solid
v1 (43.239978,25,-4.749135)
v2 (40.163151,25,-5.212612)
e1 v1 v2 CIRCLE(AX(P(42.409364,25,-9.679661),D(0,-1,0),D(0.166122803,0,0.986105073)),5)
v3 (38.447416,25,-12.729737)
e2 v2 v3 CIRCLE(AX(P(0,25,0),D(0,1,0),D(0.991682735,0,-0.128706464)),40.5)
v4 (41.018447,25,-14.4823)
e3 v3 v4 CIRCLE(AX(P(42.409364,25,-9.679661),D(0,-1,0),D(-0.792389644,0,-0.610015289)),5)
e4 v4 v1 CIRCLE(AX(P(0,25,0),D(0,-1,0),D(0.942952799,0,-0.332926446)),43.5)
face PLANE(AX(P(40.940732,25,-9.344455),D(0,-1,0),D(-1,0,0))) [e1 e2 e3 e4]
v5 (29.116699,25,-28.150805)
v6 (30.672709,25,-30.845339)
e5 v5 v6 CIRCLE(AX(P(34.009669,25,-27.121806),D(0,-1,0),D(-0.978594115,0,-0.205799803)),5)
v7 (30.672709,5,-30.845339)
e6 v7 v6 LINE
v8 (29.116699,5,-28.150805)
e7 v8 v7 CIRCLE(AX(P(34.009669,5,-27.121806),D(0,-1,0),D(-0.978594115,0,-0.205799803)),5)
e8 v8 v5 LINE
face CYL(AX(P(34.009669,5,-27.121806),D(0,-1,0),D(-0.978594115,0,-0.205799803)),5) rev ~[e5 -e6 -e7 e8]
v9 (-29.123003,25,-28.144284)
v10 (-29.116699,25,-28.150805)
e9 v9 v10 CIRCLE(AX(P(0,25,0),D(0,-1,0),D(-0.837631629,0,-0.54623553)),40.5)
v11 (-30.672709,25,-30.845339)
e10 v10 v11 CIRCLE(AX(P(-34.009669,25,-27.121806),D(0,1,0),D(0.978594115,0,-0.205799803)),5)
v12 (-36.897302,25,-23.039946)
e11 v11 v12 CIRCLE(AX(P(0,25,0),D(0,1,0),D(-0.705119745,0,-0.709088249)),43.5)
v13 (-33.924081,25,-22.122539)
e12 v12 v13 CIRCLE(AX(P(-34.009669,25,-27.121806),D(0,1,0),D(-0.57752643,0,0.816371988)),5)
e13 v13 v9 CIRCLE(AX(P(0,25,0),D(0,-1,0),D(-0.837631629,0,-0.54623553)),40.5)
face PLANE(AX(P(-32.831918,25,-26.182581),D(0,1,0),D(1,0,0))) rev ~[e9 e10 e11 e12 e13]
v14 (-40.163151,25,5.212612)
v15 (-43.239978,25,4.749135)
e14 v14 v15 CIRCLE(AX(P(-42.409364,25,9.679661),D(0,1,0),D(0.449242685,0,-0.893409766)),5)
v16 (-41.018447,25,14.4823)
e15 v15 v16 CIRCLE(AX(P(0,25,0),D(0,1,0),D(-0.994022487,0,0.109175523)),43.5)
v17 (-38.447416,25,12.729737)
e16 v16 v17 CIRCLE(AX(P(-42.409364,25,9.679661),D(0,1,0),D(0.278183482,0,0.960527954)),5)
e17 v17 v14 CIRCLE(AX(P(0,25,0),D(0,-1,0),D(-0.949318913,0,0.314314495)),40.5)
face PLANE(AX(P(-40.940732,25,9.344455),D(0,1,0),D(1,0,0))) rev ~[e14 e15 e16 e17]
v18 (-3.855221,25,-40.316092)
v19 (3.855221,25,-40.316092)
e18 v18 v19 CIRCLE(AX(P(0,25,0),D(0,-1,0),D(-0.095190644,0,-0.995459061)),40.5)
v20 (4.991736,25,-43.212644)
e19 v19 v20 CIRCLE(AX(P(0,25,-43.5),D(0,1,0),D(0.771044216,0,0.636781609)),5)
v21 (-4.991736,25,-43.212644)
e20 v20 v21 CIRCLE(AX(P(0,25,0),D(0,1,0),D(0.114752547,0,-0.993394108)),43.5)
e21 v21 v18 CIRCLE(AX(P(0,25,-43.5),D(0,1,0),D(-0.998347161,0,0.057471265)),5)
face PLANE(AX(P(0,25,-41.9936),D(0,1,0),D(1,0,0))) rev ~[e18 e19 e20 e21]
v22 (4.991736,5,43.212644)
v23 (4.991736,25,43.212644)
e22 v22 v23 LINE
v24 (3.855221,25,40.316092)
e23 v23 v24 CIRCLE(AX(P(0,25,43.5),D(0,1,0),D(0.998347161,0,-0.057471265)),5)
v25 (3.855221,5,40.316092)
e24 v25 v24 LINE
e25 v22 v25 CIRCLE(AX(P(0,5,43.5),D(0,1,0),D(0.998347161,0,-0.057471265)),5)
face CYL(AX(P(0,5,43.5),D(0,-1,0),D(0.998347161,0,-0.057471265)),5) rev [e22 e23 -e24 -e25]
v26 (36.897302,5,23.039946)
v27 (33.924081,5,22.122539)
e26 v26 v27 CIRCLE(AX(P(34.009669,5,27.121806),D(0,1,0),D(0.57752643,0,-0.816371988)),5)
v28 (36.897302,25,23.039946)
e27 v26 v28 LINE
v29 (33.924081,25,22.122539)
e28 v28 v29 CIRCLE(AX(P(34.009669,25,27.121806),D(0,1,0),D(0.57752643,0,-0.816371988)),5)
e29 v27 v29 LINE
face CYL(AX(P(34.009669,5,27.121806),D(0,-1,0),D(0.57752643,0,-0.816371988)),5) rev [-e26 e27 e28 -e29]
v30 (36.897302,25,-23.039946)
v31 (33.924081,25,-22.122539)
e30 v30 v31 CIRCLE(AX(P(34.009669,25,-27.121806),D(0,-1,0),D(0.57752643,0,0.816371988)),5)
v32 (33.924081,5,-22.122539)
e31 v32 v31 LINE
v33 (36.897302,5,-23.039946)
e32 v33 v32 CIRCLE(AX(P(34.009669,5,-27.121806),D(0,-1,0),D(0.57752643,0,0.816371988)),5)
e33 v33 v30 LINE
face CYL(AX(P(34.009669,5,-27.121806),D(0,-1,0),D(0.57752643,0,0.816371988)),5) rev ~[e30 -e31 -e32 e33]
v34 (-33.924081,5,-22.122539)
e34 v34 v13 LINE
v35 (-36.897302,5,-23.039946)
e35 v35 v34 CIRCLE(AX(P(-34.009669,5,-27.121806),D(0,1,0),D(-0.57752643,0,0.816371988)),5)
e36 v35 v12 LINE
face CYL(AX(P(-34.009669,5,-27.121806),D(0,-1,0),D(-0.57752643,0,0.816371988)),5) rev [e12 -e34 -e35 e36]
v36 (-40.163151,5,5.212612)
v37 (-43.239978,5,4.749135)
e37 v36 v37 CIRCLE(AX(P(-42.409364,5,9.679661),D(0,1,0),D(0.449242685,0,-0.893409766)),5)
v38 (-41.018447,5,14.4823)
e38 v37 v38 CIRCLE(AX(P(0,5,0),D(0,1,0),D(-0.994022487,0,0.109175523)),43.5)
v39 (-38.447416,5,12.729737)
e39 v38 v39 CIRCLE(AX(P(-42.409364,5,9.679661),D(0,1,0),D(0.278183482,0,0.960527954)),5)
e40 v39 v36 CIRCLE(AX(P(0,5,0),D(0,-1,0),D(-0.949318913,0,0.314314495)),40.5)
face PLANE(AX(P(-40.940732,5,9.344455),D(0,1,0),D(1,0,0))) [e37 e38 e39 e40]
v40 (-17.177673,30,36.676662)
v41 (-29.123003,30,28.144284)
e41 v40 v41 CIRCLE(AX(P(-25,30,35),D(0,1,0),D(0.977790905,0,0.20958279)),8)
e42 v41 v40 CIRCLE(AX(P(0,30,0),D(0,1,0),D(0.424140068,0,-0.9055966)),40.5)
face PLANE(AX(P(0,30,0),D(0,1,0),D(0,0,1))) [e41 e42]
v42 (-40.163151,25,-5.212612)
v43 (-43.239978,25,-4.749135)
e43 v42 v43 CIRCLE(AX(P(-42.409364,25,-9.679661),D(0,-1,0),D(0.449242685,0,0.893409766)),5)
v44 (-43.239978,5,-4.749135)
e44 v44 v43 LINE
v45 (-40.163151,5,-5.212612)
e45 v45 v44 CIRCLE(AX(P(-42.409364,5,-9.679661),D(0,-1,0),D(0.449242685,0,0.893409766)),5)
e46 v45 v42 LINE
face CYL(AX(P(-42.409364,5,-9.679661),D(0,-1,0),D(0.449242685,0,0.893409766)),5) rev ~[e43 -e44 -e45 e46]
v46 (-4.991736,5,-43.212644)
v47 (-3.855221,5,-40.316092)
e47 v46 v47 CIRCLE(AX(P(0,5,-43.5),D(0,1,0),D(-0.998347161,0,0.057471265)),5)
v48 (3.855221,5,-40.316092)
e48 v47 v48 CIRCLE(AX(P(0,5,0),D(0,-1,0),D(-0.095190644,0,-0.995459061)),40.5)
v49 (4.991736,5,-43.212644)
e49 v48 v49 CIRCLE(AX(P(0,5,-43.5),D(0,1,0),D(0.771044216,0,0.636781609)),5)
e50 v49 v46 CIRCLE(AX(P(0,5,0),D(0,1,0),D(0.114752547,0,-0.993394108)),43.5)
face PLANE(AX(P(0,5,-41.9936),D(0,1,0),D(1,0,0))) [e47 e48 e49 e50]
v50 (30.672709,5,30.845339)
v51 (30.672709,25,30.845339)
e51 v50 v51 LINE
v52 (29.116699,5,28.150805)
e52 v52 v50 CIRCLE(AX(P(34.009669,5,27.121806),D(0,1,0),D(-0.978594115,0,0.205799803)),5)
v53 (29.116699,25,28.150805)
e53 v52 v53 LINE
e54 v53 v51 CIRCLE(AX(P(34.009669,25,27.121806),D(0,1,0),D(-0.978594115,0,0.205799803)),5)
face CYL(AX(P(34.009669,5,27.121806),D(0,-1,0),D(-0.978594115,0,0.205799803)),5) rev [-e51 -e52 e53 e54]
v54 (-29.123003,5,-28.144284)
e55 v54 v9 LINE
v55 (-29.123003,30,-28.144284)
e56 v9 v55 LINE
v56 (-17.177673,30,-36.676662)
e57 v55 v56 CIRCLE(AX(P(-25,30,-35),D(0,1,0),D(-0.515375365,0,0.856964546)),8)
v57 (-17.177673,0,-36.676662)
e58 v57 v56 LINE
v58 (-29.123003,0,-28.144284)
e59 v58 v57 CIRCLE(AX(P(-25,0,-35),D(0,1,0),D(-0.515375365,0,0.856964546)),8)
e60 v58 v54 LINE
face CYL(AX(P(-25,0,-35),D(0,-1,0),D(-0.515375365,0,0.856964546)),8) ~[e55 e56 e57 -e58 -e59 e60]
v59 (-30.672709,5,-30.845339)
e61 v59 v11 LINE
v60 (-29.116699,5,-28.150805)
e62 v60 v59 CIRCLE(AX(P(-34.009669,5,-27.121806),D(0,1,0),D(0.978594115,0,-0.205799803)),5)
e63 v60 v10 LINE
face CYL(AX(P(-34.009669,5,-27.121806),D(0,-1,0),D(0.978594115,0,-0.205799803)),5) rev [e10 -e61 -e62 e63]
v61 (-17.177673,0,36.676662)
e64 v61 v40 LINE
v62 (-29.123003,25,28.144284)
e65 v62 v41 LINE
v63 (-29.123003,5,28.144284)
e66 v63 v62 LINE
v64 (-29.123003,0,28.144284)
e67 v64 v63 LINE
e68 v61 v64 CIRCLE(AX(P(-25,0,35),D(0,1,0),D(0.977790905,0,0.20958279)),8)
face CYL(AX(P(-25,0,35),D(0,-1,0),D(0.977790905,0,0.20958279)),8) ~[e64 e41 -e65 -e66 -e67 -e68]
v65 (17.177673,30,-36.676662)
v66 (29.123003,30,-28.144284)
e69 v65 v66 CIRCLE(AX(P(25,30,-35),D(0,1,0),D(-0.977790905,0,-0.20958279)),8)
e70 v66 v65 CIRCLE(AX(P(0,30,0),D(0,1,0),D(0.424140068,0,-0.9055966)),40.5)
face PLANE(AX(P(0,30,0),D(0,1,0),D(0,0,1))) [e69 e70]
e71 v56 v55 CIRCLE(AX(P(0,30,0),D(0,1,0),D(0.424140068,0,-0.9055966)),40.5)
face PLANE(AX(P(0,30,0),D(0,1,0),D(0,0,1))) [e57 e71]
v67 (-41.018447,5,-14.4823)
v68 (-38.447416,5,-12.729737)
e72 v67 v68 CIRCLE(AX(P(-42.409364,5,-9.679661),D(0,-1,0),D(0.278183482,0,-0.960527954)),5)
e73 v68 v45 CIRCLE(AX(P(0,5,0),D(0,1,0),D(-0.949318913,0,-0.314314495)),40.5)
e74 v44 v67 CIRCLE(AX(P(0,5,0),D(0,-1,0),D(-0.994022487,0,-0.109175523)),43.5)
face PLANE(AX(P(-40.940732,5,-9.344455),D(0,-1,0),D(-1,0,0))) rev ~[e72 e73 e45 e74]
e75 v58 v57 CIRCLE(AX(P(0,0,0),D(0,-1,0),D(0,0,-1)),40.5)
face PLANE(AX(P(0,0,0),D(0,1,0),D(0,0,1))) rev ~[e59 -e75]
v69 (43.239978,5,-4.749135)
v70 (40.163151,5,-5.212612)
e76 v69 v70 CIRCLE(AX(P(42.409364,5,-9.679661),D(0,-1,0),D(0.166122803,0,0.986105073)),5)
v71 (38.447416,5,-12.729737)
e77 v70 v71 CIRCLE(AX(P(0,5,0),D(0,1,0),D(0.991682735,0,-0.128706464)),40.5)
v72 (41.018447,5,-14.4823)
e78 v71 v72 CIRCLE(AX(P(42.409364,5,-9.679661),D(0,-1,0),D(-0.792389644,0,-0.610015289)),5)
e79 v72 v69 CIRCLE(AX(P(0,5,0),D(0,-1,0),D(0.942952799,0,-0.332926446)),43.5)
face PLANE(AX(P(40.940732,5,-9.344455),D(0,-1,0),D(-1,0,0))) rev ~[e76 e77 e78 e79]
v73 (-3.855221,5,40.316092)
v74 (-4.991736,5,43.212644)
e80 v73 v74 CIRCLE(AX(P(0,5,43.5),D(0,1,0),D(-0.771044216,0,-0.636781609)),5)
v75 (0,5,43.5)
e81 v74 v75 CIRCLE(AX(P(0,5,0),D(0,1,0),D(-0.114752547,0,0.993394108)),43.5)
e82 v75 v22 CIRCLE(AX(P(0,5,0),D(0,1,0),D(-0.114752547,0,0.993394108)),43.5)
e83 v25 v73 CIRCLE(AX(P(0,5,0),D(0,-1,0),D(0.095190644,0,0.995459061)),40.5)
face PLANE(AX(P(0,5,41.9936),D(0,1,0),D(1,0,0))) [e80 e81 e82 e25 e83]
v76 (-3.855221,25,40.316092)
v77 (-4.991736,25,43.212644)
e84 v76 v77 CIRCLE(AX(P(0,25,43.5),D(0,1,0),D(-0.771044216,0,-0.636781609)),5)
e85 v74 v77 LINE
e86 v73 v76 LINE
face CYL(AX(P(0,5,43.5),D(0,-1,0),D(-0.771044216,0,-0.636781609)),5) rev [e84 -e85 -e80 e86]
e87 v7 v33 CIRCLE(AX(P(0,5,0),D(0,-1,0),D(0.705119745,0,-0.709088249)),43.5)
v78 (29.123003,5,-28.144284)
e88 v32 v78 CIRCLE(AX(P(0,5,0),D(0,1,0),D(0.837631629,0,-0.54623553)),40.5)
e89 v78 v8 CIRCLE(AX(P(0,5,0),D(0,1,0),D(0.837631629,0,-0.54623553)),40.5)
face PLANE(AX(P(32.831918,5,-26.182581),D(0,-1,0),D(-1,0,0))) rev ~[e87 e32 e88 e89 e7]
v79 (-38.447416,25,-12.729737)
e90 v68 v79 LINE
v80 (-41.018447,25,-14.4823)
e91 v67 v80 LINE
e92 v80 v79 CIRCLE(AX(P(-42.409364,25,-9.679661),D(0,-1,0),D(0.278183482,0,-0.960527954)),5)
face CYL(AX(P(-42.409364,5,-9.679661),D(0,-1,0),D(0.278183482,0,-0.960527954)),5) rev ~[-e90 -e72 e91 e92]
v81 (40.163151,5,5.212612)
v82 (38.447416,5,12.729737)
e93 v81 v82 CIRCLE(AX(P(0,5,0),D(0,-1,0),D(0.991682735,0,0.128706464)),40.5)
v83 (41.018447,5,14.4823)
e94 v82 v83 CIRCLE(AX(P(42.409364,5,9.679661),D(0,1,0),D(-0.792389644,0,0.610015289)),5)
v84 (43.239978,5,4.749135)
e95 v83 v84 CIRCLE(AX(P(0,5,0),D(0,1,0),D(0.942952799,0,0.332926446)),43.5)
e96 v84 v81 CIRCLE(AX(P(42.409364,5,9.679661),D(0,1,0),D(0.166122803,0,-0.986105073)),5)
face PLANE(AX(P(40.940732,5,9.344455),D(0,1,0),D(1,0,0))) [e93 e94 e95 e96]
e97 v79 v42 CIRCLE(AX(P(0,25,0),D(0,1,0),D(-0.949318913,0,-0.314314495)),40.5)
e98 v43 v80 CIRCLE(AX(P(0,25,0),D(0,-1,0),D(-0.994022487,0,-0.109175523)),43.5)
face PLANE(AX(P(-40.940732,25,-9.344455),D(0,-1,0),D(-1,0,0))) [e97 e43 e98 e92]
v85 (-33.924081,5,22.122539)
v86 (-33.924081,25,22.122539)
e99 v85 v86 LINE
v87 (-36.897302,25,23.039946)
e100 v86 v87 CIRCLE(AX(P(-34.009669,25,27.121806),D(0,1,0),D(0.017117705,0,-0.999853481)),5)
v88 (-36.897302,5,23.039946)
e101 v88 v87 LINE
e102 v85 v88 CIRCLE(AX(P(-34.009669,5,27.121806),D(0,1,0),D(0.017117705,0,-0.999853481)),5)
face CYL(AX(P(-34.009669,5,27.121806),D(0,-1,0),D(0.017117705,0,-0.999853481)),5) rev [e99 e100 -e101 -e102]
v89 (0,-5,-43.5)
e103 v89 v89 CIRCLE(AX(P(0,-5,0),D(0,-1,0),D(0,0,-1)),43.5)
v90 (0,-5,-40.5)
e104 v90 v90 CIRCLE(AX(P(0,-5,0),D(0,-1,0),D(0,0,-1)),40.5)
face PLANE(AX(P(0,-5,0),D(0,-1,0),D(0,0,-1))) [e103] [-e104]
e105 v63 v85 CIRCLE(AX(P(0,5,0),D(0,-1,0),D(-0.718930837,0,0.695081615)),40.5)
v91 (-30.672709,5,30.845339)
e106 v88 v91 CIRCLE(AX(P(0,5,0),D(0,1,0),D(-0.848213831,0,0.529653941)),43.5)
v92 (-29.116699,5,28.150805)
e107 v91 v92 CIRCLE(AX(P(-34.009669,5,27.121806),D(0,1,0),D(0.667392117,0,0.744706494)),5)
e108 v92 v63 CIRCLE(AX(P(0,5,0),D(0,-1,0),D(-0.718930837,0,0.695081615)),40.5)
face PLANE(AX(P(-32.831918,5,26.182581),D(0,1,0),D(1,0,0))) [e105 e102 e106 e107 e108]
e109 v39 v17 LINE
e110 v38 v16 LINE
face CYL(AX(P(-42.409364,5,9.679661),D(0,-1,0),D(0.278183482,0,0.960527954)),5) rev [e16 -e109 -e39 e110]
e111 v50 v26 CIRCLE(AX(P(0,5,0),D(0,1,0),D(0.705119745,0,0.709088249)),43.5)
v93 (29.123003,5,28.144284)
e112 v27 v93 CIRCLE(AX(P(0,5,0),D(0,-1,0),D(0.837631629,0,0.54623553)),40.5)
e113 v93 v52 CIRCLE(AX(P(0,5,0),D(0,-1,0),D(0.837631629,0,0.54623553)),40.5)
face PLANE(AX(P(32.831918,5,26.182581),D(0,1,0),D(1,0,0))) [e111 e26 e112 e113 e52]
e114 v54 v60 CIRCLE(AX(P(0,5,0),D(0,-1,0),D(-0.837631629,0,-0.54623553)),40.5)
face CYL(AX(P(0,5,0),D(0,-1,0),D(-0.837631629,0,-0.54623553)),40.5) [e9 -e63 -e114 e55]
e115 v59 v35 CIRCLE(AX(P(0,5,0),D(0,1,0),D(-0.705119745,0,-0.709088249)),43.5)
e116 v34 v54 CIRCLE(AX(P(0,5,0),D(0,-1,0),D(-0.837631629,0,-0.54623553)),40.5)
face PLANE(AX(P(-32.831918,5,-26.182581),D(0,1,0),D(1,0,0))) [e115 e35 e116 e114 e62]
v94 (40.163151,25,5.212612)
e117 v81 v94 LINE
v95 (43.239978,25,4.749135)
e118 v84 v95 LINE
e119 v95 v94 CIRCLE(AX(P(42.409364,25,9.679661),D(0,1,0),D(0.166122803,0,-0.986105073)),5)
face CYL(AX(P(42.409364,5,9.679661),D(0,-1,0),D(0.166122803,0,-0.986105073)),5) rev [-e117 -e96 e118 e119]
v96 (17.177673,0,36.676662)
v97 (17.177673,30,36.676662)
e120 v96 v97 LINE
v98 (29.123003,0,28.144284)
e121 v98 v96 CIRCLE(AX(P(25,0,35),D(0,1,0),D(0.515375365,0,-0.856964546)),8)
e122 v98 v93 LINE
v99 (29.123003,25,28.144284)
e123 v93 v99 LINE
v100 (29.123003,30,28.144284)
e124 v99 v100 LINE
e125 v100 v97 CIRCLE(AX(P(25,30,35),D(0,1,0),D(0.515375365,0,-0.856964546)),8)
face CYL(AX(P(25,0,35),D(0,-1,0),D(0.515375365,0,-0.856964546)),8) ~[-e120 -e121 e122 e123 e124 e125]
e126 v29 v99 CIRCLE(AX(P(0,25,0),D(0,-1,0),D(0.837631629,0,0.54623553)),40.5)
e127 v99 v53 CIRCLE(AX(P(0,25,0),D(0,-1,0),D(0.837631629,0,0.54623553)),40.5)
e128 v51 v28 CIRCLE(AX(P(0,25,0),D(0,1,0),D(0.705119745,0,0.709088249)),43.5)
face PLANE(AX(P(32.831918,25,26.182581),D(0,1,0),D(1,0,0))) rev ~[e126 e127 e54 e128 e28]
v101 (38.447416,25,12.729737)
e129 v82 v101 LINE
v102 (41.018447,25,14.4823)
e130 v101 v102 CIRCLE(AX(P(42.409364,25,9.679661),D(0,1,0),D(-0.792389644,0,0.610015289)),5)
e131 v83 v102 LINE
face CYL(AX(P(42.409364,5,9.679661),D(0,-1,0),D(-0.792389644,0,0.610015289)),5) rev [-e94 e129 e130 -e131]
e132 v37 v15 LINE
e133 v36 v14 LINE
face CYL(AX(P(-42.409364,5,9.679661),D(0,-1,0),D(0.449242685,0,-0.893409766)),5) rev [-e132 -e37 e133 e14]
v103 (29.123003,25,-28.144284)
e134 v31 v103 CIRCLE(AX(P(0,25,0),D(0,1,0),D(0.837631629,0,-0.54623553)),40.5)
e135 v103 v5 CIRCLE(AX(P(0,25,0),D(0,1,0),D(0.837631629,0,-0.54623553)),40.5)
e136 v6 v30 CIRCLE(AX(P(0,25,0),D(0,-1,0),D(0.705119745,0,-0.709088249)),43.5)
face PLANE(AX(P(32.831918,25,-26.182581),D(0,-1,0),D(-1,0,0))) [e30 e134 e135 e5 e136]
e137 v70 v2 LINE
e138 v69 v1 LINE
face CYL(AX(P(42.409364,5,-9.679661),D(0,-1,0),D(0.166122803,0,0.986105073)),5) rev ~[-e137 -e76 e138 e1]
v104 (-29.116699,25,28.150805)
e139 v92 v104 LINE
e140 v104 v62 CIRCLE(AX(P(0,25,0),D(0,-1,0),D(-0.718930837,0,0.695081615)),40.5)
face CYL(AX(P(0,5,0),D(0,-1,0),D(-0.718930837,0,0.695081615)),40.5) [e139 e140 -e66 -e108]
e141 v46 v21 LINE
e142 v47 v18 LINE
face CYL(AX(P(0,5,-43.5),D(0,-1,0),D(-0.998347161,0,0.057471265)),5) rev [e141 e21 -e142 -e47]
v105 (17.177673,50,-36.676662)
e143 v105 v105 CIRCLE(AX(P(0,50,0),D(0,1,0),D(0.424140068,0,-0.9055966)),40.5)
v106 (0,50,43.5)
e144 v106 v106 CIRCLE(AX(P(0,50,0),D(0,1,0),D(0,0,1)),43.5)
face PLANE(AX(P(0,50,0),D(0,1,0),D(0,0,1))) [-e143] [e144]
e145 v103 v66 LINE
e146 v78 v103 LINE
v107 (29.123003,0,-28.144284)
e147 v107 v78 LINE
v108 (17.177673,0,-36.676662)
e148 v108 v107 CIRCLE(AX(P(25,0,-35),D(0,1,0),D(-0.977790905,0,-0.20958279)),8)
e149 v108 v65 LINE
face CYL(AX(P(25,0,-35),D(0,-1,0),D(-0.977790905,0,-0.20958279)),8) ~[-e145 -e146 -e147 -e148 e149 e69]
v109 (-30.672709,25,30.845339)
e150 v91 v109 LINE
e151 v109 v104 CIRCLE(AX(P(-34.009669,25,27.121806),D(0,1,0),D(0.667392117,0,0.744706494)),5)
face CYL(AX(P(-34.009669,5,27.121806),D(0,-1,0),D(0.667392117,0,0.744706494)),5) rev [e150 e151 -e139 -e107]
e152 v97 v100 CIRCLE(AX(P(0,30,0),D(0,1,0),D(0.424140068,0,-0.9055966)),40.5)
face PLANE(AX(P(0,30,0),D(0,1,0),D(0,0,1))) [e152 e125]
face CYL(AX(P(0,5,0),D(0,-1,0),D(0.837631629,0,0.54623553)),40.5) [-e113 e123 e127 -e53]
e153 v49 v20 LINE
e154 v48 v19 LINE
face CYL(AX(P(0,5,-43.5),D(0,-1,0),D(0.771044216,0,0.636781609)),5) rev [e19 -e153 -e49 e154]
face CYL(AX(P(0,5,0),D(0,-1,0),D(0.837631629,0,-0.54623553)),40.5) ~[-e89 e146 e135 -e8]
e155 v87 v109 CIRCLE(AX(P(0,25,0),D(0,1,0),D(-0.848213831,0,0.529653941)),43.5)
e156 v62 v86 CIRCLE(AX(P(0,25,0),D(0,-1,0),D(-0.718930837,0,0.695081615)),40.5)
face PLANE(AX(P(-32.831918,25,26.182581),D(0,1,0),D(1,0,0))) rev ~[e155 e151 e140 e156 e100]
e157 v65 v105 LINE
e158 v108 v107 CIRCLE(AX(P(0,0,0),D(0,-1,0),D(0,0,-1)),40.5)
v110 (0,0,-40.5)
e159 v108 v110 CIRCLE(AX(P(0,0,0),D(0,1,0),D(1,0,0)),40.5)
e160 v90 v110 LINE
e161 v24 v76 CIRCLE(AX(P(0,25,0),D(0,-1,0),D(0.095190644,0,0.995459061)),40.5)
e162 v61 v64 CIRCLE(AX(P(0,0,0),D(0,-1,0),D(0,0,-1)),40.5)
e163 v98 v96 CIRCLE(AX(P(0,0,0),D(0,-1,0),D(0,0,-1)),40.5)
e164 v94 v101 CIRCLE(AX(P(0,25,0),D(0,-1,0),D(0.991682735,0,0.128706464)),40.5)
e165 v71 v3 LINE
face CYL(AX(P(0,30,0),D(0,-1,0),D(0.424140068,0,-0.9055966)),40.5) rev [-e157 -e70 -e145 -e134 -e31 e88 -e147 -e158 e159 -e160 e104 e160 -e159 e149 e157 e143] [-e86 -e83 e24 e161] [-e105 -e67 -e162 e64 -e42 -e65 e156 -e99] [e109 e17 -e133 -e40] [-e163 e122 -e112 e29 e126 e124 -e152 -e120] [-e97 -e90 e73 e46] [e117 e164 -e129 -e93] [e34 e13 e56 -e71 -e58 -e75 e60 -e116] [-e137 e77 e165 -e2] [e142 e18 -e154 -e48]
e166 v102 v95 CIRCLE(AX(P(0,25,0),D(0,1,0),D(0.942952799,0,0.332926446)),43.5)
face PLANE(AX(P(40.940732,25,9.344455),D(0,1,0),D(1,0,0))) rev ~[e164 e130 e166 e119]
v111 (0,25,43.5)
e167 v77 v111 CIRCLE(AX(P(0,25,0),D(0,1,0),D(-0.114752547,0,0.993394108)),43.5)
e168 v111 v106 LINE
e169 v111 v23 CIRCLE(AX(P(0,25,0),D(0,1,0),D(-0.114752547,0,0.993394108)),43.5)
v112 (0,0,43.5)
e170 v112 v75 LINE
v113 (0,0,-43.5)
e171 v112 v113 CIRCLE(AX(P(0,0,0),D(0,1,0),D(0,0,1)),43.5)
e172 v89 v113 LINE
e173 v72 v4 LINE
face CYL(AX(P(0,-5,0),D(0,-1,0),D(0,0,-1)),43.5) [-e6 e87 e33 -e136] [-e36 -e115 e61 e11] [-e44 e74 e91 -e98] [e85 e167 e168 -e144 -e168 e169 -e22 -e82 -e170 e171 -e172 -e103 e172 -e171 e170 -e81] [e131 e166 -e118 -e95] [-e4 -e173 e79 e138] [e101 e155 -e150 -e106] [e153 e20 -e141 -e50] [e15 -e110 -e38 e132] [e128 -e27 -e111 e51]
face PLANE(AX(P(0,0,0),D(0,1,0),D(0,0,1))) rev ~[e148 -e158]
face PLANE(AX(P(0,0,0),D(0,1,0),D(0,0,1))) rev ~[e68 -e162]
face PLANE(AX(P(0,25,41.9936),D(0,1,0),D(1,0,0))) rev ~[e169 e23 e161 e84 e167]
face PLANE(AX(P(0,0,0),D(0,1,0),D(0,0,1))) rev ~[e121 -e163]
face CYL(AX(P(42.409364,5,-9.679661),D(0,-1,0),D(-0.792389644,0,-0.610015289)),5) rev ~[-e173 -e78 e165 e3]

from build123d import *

# Parameters (mm, degrees)
SKETCH1_R               = 43.5
SKETCH1_R_2             = 40.5
BOSS_EXTRUDE1_DEPTH     = 30
SKETCH2_R               = 43.5
SKETCH2_R_2             = 40.5
BOSS_EXTRUDE2_DEPTH     = 20
BOSS_EXTRUDE3_START     = 5
SKETCH3_R               = 43.5
SKETCH3_R_2             = 40.5
BOSS_EXTRUDE3_DEPTH     = 5
CUT_EXTRUDE1_DEPTH      = 10
CUT_EXTRUDE1_DEPTH_BACK = 10


with BuildPart() as part:
    # Sketch1 → Boss-Extrude1 (new body)
    # profile 1 of 5: a face of its own
    with BuildSketch(Plane(origin=(0, 0, 0), x_dir=(1, 0, 0), z_dir=(0, 1, 0))):
        with Locations(Location((0, 0, 0), (0, 0, 270))):
            Circle(SKETCH1_R)
        Circle(SKETCH1_R_2, mode=Mode.SUBTRACT)
    # profile 2 of 5: a face of its own
    with BuildSketch(Plane(origin=(0, 0, 0), x_dir=(1, 0, 0), z_dir=(0, 1, 0))):
        with BuildLine():
            ThreePointArc((-29.123002918, 28.14428363), (-20.35009445, 28.49013223), (-17.177672758, 36.676662316))
            ThreePointArc((-17.177672758, 36.676662316), (-23.540146846, 32.956205584), (-29.123002918, 28.14428363))
        make_face()
    # profile 3 of 5: a face of its own
    with BuildSketch(Plane(origin=(0, 0, 0), x_dir=(1, 0, 0), z_dir=(0, 1, 0))):
        with BuildLine():
            ThreePointArc((-29.123002918, -28.14428363), (-23.540146846, -32.956205584), (-17.177672758, -36.676662316))
            ThreePointArc((-17.177672758, -36.676662316), (-20.35009445, -28.49013223), (-29.123002918, -28.14428363))
        make_face()
    # profile 4 of 5: a face of its own
    with BuildSketch(Plane(origin=(0, 0, 0), x_dir=(1, 0, 0), z_dir=(0, 1, 0))):
        with BuildLine():
            ThreePointArc((17.177672758, -36.676662316), (23.540146846, -32.956205584), (29.123002918, -28.14428363))
            ThreePointArc((29.123002918, -28.14428363), (20.35009445, -28.49013223), (17.177672758, -36.676662316))
        make_face()
    # profile 5 of 5: a face of its own
    with BuildSketch(Plane(origin=(0, 0, 0), x_dir=(1, 0, 0), z_dir=(0, 1, 0))):
        with BuildLine():
            ThreePointArc((17.177672758, 36.676662316), (20.35009445, 28.49013223), (29.123002918, 28.14428363))
            ThreePointArc((29.123002918, 28.14428363), (23.540146846, 32.956205584), (17.177672758, 36.676662316))
        make_face()
    extrude(amount=BOSS_EXTRUDE1_DEPTH)

    # Sketch2 → Boss-Extrude2 (add)
    with BuildSketch(Plane(origin=(0, 30, 0), x_dir=(1, 0, 0), z_dir=(0, 1, 0))):
        with Locations(Location((0, 0, 0), (0, 0, 270))):
            Circle(SKETCH2_R)
        with Locations(Location((0, 0, 0), (0, 0, 64.90375534))):
            Circle(SKETCH2_R_2, mode=Mode.SUBTRACT)
    extrude(amount=BOSS_EXTRUDE2_DEPTH)

    # Sketch3 → Boss-Extrude3 (add)
    with BuildSketch(Plane.XZ.offset(BOSS_EXTRUDE3_START)):
        with Locations(Location((0, 0, 0), (0, 0, 270))):
            Circle(SKETCH3_R)
        with Locations(Location((0, 0, 0), (0, 0, 270))):
            Circle(SKETCH3_R_2, mode=Mode.SUBTRACT)
    extrude(amount=-BOSS_EXTRUDE3_DEPTH)

    # Sketch5 → Cut-Extrude1 (cut, two sides: drawn at the far end of the back side and taken through both)
    with BuildSketch(Plane(origin=(0, 15, 0), x_dir=(1, 0, 0), z_dir=(0, 1, 0)).offset(-CUT_EXTRUDE1_DEPTH_BACK)):
        with BuildLine():
            ThreePointArc((-4.991735805, 43.212643678), (-4.654531608, 41.673709906), (-3.855221077, 40.316091954))
            ThreePointArc((-3.855221077, 40.316091954), (0, 40.5), (3.855221077, 40.316091954))
            ThreePointArc((3.855221077, 40.316091954), (4.654531608, 41.673709906), (4.991735805, 43.212643678))
            ThreePointArc((4.991735805, 43.212643678), (0, 43.5), (-4.991735805, 43.212643678))
        make_face()
        with BuildLine():
            ThreePointArc((33.924080965, 22.122538974), (31.66417504, 25.251336975), (29.116698914, 28.150805394))
            ThreePointArc((29.116698914, 28.150805394), (29.679765405, 29.622192479), (30.6727089, 30.845338849))
            ThreePointArc((30.6727089, 30.845338849), (34.009669487, 27.121806381), (36.897301636, 23.03994644))
            ThreePointArc((36.897301636, 23.03994644), (35.483871385, 22.344073784), (33.924080965, 22.122538974))
        make_face()
        with BuildLine():
            ThreePointArc((40.163150751, 5.212611799), (39.484580443, 9.012097825), (38.447415961, 12.729737071))
            ThreePointArc((38.447415961, 12.729737071), (39.59313227, 13.811105632), (41.018446768, 14.482300396))
            ThreePointArc((41.018446768, 14.482300396), (42.40936418, 9.679660627), (43.239978194, 4.749135264))
            ThreePointArc((43.239978194, 4.749135264), (41.664593712, 4.735440067), (40.163150751, 5.212611799))
        make_face()
        with BuildLine():
            ThreePointArc((41.018446768, -14.482300396), (42.40936418, -9.679660627), (43.239978194, -4.749135264))
            ThreePointArc((43.239978194, -4.749135264), (41.664593712, -4.735440067), (40.163150751, -5.212611799))
            ThreePointArc((40.163150751, -5.212611799), (39.484580443, -9.012097825), (38.447415961, -12.729737071))
            ThreePointArc((38.447415961, -12.729737071), (39.59313227, -13.811105632), (41.018446768, -14.482300396))
        make_face()
        with BuildLine():
            ThreePointArc((29.116698914, -28.150805394), (29.679765405, -29.622192479), (30.6727089, -30.845338849))
            ThreePointArc((30.6727089, -30.845338849), (34.009669487, -27.121806381), (36.897301636, -23.03994644))
            ThreePointArc((36.897301636, -23.03994644), (35.483871385, -22.344073784), (33.924080965, -22.122538974))
            ThreePointArc((33.924080965, -22.122538974), (31.66417504, -25.251336975), (29.116698914, -28.150805394))
        make_face()
        with BuildLine():
            ThreePointArc((4.991735805, -43.212643678), (4.654531608, -41.673709906), (3.855221077, -40.316091954))
            ThreePointArc((3.855221077, -40.316091954), (0, -40.5), (-3.855221077, -40.316091954))
            ThreePointArc((-3.855221077, -40.316091954), (-4.654531608, -41.673709906), (-4.991735805, -43.212643678))
            ThreePointArc((-4.991735805, -43.212643678), (0, -43.5), (4.991735805, -43.212643678))
        make_face()
        with BuildLine():
            ThreePointArc((-36.897301636, -23.03994644), (-34.009669487, -27.121806381), (-30.6727089, -30.845338849))
            ThreePointArc((-30.6727089, -30.845338849), (-29.679765405, -29.622192479), (-29.116698914, -28.150805394))
            ThreePointArc((-29.116698914, -28.150805394), (-31.66417504, -25.251336975), (-33.924080965, -22.122538974))
            ThreePointArc((-33.924080965, -22.122538974), (-35.483871385, -22.344073784), (-36.897301636, -23.03994644))
        make_face()
        with BuildLine():
            ThreePointArc((-43.239978194, -4.749135264), (-42.40936418, -9.679660627), (-41.018446768, -14.482300396))
            ThreePointArc((-41.018446768, -14.482300396), (-39.59313227, -13.811105632), (-38.447415961, -12.729737071))
            ThreePointArc((-38.447415961, -12.729737071), (-39.484580443, -9.012097825), (-40.163150751, -5.212611799))
            ThreePointArc((-40.163150751, -5.212611799), (-41.664593712, -4.735440067), (-43.239978194, -4.749135264))
        make_face()
        with BuildLine():
            ThreePointArc((-38.447415961, 12.729737071), (-39.484580443, 9.012097825), (-40.163150751, 5.212611799))
            ThreePointArc((-40.163150751, 5.212611799), (-41.664593712, 4.735440067), (-43.239978194, 4.749135264))
            ThreePointArc((-43.239978194, 4.749135264), (-42.40936418, 9.679660627), (-41.018446768, 14.482300396))
            ThreePointArc((-41.018446768, 14.482300396), (-39.59313227, 13.811105632), (-38.447415961, 12.729737071))
        make_face()
        with BuildLine():
            ThreePointArc((-29.116698914, 28.150805394), (-29.679765405, 29.622192479), (-30.6727089, 30.845338849))
            ThreePointArc((-30.6727089, 30.845338849), (-34.009669487, 27.121806381), (-36.897301636, 23.03994644))
            ThreePointArc((-36.897301636, 23.03994644), (-35.483871385, 22.344073784), (-33.924080965, 22.122538974))
            ThreePointArc((-33.924080965, 22.122538974), (-31.66417504, 25.251336975), (-29.116698914, 28.150805394))
        make_face()
    extrude(amount=CUT_EXTRUDE1_DEPTH + CUT_EXTRUDE1_DEPTH_BACK, mode=Mode.SUBTRACT)


solid = part.part
